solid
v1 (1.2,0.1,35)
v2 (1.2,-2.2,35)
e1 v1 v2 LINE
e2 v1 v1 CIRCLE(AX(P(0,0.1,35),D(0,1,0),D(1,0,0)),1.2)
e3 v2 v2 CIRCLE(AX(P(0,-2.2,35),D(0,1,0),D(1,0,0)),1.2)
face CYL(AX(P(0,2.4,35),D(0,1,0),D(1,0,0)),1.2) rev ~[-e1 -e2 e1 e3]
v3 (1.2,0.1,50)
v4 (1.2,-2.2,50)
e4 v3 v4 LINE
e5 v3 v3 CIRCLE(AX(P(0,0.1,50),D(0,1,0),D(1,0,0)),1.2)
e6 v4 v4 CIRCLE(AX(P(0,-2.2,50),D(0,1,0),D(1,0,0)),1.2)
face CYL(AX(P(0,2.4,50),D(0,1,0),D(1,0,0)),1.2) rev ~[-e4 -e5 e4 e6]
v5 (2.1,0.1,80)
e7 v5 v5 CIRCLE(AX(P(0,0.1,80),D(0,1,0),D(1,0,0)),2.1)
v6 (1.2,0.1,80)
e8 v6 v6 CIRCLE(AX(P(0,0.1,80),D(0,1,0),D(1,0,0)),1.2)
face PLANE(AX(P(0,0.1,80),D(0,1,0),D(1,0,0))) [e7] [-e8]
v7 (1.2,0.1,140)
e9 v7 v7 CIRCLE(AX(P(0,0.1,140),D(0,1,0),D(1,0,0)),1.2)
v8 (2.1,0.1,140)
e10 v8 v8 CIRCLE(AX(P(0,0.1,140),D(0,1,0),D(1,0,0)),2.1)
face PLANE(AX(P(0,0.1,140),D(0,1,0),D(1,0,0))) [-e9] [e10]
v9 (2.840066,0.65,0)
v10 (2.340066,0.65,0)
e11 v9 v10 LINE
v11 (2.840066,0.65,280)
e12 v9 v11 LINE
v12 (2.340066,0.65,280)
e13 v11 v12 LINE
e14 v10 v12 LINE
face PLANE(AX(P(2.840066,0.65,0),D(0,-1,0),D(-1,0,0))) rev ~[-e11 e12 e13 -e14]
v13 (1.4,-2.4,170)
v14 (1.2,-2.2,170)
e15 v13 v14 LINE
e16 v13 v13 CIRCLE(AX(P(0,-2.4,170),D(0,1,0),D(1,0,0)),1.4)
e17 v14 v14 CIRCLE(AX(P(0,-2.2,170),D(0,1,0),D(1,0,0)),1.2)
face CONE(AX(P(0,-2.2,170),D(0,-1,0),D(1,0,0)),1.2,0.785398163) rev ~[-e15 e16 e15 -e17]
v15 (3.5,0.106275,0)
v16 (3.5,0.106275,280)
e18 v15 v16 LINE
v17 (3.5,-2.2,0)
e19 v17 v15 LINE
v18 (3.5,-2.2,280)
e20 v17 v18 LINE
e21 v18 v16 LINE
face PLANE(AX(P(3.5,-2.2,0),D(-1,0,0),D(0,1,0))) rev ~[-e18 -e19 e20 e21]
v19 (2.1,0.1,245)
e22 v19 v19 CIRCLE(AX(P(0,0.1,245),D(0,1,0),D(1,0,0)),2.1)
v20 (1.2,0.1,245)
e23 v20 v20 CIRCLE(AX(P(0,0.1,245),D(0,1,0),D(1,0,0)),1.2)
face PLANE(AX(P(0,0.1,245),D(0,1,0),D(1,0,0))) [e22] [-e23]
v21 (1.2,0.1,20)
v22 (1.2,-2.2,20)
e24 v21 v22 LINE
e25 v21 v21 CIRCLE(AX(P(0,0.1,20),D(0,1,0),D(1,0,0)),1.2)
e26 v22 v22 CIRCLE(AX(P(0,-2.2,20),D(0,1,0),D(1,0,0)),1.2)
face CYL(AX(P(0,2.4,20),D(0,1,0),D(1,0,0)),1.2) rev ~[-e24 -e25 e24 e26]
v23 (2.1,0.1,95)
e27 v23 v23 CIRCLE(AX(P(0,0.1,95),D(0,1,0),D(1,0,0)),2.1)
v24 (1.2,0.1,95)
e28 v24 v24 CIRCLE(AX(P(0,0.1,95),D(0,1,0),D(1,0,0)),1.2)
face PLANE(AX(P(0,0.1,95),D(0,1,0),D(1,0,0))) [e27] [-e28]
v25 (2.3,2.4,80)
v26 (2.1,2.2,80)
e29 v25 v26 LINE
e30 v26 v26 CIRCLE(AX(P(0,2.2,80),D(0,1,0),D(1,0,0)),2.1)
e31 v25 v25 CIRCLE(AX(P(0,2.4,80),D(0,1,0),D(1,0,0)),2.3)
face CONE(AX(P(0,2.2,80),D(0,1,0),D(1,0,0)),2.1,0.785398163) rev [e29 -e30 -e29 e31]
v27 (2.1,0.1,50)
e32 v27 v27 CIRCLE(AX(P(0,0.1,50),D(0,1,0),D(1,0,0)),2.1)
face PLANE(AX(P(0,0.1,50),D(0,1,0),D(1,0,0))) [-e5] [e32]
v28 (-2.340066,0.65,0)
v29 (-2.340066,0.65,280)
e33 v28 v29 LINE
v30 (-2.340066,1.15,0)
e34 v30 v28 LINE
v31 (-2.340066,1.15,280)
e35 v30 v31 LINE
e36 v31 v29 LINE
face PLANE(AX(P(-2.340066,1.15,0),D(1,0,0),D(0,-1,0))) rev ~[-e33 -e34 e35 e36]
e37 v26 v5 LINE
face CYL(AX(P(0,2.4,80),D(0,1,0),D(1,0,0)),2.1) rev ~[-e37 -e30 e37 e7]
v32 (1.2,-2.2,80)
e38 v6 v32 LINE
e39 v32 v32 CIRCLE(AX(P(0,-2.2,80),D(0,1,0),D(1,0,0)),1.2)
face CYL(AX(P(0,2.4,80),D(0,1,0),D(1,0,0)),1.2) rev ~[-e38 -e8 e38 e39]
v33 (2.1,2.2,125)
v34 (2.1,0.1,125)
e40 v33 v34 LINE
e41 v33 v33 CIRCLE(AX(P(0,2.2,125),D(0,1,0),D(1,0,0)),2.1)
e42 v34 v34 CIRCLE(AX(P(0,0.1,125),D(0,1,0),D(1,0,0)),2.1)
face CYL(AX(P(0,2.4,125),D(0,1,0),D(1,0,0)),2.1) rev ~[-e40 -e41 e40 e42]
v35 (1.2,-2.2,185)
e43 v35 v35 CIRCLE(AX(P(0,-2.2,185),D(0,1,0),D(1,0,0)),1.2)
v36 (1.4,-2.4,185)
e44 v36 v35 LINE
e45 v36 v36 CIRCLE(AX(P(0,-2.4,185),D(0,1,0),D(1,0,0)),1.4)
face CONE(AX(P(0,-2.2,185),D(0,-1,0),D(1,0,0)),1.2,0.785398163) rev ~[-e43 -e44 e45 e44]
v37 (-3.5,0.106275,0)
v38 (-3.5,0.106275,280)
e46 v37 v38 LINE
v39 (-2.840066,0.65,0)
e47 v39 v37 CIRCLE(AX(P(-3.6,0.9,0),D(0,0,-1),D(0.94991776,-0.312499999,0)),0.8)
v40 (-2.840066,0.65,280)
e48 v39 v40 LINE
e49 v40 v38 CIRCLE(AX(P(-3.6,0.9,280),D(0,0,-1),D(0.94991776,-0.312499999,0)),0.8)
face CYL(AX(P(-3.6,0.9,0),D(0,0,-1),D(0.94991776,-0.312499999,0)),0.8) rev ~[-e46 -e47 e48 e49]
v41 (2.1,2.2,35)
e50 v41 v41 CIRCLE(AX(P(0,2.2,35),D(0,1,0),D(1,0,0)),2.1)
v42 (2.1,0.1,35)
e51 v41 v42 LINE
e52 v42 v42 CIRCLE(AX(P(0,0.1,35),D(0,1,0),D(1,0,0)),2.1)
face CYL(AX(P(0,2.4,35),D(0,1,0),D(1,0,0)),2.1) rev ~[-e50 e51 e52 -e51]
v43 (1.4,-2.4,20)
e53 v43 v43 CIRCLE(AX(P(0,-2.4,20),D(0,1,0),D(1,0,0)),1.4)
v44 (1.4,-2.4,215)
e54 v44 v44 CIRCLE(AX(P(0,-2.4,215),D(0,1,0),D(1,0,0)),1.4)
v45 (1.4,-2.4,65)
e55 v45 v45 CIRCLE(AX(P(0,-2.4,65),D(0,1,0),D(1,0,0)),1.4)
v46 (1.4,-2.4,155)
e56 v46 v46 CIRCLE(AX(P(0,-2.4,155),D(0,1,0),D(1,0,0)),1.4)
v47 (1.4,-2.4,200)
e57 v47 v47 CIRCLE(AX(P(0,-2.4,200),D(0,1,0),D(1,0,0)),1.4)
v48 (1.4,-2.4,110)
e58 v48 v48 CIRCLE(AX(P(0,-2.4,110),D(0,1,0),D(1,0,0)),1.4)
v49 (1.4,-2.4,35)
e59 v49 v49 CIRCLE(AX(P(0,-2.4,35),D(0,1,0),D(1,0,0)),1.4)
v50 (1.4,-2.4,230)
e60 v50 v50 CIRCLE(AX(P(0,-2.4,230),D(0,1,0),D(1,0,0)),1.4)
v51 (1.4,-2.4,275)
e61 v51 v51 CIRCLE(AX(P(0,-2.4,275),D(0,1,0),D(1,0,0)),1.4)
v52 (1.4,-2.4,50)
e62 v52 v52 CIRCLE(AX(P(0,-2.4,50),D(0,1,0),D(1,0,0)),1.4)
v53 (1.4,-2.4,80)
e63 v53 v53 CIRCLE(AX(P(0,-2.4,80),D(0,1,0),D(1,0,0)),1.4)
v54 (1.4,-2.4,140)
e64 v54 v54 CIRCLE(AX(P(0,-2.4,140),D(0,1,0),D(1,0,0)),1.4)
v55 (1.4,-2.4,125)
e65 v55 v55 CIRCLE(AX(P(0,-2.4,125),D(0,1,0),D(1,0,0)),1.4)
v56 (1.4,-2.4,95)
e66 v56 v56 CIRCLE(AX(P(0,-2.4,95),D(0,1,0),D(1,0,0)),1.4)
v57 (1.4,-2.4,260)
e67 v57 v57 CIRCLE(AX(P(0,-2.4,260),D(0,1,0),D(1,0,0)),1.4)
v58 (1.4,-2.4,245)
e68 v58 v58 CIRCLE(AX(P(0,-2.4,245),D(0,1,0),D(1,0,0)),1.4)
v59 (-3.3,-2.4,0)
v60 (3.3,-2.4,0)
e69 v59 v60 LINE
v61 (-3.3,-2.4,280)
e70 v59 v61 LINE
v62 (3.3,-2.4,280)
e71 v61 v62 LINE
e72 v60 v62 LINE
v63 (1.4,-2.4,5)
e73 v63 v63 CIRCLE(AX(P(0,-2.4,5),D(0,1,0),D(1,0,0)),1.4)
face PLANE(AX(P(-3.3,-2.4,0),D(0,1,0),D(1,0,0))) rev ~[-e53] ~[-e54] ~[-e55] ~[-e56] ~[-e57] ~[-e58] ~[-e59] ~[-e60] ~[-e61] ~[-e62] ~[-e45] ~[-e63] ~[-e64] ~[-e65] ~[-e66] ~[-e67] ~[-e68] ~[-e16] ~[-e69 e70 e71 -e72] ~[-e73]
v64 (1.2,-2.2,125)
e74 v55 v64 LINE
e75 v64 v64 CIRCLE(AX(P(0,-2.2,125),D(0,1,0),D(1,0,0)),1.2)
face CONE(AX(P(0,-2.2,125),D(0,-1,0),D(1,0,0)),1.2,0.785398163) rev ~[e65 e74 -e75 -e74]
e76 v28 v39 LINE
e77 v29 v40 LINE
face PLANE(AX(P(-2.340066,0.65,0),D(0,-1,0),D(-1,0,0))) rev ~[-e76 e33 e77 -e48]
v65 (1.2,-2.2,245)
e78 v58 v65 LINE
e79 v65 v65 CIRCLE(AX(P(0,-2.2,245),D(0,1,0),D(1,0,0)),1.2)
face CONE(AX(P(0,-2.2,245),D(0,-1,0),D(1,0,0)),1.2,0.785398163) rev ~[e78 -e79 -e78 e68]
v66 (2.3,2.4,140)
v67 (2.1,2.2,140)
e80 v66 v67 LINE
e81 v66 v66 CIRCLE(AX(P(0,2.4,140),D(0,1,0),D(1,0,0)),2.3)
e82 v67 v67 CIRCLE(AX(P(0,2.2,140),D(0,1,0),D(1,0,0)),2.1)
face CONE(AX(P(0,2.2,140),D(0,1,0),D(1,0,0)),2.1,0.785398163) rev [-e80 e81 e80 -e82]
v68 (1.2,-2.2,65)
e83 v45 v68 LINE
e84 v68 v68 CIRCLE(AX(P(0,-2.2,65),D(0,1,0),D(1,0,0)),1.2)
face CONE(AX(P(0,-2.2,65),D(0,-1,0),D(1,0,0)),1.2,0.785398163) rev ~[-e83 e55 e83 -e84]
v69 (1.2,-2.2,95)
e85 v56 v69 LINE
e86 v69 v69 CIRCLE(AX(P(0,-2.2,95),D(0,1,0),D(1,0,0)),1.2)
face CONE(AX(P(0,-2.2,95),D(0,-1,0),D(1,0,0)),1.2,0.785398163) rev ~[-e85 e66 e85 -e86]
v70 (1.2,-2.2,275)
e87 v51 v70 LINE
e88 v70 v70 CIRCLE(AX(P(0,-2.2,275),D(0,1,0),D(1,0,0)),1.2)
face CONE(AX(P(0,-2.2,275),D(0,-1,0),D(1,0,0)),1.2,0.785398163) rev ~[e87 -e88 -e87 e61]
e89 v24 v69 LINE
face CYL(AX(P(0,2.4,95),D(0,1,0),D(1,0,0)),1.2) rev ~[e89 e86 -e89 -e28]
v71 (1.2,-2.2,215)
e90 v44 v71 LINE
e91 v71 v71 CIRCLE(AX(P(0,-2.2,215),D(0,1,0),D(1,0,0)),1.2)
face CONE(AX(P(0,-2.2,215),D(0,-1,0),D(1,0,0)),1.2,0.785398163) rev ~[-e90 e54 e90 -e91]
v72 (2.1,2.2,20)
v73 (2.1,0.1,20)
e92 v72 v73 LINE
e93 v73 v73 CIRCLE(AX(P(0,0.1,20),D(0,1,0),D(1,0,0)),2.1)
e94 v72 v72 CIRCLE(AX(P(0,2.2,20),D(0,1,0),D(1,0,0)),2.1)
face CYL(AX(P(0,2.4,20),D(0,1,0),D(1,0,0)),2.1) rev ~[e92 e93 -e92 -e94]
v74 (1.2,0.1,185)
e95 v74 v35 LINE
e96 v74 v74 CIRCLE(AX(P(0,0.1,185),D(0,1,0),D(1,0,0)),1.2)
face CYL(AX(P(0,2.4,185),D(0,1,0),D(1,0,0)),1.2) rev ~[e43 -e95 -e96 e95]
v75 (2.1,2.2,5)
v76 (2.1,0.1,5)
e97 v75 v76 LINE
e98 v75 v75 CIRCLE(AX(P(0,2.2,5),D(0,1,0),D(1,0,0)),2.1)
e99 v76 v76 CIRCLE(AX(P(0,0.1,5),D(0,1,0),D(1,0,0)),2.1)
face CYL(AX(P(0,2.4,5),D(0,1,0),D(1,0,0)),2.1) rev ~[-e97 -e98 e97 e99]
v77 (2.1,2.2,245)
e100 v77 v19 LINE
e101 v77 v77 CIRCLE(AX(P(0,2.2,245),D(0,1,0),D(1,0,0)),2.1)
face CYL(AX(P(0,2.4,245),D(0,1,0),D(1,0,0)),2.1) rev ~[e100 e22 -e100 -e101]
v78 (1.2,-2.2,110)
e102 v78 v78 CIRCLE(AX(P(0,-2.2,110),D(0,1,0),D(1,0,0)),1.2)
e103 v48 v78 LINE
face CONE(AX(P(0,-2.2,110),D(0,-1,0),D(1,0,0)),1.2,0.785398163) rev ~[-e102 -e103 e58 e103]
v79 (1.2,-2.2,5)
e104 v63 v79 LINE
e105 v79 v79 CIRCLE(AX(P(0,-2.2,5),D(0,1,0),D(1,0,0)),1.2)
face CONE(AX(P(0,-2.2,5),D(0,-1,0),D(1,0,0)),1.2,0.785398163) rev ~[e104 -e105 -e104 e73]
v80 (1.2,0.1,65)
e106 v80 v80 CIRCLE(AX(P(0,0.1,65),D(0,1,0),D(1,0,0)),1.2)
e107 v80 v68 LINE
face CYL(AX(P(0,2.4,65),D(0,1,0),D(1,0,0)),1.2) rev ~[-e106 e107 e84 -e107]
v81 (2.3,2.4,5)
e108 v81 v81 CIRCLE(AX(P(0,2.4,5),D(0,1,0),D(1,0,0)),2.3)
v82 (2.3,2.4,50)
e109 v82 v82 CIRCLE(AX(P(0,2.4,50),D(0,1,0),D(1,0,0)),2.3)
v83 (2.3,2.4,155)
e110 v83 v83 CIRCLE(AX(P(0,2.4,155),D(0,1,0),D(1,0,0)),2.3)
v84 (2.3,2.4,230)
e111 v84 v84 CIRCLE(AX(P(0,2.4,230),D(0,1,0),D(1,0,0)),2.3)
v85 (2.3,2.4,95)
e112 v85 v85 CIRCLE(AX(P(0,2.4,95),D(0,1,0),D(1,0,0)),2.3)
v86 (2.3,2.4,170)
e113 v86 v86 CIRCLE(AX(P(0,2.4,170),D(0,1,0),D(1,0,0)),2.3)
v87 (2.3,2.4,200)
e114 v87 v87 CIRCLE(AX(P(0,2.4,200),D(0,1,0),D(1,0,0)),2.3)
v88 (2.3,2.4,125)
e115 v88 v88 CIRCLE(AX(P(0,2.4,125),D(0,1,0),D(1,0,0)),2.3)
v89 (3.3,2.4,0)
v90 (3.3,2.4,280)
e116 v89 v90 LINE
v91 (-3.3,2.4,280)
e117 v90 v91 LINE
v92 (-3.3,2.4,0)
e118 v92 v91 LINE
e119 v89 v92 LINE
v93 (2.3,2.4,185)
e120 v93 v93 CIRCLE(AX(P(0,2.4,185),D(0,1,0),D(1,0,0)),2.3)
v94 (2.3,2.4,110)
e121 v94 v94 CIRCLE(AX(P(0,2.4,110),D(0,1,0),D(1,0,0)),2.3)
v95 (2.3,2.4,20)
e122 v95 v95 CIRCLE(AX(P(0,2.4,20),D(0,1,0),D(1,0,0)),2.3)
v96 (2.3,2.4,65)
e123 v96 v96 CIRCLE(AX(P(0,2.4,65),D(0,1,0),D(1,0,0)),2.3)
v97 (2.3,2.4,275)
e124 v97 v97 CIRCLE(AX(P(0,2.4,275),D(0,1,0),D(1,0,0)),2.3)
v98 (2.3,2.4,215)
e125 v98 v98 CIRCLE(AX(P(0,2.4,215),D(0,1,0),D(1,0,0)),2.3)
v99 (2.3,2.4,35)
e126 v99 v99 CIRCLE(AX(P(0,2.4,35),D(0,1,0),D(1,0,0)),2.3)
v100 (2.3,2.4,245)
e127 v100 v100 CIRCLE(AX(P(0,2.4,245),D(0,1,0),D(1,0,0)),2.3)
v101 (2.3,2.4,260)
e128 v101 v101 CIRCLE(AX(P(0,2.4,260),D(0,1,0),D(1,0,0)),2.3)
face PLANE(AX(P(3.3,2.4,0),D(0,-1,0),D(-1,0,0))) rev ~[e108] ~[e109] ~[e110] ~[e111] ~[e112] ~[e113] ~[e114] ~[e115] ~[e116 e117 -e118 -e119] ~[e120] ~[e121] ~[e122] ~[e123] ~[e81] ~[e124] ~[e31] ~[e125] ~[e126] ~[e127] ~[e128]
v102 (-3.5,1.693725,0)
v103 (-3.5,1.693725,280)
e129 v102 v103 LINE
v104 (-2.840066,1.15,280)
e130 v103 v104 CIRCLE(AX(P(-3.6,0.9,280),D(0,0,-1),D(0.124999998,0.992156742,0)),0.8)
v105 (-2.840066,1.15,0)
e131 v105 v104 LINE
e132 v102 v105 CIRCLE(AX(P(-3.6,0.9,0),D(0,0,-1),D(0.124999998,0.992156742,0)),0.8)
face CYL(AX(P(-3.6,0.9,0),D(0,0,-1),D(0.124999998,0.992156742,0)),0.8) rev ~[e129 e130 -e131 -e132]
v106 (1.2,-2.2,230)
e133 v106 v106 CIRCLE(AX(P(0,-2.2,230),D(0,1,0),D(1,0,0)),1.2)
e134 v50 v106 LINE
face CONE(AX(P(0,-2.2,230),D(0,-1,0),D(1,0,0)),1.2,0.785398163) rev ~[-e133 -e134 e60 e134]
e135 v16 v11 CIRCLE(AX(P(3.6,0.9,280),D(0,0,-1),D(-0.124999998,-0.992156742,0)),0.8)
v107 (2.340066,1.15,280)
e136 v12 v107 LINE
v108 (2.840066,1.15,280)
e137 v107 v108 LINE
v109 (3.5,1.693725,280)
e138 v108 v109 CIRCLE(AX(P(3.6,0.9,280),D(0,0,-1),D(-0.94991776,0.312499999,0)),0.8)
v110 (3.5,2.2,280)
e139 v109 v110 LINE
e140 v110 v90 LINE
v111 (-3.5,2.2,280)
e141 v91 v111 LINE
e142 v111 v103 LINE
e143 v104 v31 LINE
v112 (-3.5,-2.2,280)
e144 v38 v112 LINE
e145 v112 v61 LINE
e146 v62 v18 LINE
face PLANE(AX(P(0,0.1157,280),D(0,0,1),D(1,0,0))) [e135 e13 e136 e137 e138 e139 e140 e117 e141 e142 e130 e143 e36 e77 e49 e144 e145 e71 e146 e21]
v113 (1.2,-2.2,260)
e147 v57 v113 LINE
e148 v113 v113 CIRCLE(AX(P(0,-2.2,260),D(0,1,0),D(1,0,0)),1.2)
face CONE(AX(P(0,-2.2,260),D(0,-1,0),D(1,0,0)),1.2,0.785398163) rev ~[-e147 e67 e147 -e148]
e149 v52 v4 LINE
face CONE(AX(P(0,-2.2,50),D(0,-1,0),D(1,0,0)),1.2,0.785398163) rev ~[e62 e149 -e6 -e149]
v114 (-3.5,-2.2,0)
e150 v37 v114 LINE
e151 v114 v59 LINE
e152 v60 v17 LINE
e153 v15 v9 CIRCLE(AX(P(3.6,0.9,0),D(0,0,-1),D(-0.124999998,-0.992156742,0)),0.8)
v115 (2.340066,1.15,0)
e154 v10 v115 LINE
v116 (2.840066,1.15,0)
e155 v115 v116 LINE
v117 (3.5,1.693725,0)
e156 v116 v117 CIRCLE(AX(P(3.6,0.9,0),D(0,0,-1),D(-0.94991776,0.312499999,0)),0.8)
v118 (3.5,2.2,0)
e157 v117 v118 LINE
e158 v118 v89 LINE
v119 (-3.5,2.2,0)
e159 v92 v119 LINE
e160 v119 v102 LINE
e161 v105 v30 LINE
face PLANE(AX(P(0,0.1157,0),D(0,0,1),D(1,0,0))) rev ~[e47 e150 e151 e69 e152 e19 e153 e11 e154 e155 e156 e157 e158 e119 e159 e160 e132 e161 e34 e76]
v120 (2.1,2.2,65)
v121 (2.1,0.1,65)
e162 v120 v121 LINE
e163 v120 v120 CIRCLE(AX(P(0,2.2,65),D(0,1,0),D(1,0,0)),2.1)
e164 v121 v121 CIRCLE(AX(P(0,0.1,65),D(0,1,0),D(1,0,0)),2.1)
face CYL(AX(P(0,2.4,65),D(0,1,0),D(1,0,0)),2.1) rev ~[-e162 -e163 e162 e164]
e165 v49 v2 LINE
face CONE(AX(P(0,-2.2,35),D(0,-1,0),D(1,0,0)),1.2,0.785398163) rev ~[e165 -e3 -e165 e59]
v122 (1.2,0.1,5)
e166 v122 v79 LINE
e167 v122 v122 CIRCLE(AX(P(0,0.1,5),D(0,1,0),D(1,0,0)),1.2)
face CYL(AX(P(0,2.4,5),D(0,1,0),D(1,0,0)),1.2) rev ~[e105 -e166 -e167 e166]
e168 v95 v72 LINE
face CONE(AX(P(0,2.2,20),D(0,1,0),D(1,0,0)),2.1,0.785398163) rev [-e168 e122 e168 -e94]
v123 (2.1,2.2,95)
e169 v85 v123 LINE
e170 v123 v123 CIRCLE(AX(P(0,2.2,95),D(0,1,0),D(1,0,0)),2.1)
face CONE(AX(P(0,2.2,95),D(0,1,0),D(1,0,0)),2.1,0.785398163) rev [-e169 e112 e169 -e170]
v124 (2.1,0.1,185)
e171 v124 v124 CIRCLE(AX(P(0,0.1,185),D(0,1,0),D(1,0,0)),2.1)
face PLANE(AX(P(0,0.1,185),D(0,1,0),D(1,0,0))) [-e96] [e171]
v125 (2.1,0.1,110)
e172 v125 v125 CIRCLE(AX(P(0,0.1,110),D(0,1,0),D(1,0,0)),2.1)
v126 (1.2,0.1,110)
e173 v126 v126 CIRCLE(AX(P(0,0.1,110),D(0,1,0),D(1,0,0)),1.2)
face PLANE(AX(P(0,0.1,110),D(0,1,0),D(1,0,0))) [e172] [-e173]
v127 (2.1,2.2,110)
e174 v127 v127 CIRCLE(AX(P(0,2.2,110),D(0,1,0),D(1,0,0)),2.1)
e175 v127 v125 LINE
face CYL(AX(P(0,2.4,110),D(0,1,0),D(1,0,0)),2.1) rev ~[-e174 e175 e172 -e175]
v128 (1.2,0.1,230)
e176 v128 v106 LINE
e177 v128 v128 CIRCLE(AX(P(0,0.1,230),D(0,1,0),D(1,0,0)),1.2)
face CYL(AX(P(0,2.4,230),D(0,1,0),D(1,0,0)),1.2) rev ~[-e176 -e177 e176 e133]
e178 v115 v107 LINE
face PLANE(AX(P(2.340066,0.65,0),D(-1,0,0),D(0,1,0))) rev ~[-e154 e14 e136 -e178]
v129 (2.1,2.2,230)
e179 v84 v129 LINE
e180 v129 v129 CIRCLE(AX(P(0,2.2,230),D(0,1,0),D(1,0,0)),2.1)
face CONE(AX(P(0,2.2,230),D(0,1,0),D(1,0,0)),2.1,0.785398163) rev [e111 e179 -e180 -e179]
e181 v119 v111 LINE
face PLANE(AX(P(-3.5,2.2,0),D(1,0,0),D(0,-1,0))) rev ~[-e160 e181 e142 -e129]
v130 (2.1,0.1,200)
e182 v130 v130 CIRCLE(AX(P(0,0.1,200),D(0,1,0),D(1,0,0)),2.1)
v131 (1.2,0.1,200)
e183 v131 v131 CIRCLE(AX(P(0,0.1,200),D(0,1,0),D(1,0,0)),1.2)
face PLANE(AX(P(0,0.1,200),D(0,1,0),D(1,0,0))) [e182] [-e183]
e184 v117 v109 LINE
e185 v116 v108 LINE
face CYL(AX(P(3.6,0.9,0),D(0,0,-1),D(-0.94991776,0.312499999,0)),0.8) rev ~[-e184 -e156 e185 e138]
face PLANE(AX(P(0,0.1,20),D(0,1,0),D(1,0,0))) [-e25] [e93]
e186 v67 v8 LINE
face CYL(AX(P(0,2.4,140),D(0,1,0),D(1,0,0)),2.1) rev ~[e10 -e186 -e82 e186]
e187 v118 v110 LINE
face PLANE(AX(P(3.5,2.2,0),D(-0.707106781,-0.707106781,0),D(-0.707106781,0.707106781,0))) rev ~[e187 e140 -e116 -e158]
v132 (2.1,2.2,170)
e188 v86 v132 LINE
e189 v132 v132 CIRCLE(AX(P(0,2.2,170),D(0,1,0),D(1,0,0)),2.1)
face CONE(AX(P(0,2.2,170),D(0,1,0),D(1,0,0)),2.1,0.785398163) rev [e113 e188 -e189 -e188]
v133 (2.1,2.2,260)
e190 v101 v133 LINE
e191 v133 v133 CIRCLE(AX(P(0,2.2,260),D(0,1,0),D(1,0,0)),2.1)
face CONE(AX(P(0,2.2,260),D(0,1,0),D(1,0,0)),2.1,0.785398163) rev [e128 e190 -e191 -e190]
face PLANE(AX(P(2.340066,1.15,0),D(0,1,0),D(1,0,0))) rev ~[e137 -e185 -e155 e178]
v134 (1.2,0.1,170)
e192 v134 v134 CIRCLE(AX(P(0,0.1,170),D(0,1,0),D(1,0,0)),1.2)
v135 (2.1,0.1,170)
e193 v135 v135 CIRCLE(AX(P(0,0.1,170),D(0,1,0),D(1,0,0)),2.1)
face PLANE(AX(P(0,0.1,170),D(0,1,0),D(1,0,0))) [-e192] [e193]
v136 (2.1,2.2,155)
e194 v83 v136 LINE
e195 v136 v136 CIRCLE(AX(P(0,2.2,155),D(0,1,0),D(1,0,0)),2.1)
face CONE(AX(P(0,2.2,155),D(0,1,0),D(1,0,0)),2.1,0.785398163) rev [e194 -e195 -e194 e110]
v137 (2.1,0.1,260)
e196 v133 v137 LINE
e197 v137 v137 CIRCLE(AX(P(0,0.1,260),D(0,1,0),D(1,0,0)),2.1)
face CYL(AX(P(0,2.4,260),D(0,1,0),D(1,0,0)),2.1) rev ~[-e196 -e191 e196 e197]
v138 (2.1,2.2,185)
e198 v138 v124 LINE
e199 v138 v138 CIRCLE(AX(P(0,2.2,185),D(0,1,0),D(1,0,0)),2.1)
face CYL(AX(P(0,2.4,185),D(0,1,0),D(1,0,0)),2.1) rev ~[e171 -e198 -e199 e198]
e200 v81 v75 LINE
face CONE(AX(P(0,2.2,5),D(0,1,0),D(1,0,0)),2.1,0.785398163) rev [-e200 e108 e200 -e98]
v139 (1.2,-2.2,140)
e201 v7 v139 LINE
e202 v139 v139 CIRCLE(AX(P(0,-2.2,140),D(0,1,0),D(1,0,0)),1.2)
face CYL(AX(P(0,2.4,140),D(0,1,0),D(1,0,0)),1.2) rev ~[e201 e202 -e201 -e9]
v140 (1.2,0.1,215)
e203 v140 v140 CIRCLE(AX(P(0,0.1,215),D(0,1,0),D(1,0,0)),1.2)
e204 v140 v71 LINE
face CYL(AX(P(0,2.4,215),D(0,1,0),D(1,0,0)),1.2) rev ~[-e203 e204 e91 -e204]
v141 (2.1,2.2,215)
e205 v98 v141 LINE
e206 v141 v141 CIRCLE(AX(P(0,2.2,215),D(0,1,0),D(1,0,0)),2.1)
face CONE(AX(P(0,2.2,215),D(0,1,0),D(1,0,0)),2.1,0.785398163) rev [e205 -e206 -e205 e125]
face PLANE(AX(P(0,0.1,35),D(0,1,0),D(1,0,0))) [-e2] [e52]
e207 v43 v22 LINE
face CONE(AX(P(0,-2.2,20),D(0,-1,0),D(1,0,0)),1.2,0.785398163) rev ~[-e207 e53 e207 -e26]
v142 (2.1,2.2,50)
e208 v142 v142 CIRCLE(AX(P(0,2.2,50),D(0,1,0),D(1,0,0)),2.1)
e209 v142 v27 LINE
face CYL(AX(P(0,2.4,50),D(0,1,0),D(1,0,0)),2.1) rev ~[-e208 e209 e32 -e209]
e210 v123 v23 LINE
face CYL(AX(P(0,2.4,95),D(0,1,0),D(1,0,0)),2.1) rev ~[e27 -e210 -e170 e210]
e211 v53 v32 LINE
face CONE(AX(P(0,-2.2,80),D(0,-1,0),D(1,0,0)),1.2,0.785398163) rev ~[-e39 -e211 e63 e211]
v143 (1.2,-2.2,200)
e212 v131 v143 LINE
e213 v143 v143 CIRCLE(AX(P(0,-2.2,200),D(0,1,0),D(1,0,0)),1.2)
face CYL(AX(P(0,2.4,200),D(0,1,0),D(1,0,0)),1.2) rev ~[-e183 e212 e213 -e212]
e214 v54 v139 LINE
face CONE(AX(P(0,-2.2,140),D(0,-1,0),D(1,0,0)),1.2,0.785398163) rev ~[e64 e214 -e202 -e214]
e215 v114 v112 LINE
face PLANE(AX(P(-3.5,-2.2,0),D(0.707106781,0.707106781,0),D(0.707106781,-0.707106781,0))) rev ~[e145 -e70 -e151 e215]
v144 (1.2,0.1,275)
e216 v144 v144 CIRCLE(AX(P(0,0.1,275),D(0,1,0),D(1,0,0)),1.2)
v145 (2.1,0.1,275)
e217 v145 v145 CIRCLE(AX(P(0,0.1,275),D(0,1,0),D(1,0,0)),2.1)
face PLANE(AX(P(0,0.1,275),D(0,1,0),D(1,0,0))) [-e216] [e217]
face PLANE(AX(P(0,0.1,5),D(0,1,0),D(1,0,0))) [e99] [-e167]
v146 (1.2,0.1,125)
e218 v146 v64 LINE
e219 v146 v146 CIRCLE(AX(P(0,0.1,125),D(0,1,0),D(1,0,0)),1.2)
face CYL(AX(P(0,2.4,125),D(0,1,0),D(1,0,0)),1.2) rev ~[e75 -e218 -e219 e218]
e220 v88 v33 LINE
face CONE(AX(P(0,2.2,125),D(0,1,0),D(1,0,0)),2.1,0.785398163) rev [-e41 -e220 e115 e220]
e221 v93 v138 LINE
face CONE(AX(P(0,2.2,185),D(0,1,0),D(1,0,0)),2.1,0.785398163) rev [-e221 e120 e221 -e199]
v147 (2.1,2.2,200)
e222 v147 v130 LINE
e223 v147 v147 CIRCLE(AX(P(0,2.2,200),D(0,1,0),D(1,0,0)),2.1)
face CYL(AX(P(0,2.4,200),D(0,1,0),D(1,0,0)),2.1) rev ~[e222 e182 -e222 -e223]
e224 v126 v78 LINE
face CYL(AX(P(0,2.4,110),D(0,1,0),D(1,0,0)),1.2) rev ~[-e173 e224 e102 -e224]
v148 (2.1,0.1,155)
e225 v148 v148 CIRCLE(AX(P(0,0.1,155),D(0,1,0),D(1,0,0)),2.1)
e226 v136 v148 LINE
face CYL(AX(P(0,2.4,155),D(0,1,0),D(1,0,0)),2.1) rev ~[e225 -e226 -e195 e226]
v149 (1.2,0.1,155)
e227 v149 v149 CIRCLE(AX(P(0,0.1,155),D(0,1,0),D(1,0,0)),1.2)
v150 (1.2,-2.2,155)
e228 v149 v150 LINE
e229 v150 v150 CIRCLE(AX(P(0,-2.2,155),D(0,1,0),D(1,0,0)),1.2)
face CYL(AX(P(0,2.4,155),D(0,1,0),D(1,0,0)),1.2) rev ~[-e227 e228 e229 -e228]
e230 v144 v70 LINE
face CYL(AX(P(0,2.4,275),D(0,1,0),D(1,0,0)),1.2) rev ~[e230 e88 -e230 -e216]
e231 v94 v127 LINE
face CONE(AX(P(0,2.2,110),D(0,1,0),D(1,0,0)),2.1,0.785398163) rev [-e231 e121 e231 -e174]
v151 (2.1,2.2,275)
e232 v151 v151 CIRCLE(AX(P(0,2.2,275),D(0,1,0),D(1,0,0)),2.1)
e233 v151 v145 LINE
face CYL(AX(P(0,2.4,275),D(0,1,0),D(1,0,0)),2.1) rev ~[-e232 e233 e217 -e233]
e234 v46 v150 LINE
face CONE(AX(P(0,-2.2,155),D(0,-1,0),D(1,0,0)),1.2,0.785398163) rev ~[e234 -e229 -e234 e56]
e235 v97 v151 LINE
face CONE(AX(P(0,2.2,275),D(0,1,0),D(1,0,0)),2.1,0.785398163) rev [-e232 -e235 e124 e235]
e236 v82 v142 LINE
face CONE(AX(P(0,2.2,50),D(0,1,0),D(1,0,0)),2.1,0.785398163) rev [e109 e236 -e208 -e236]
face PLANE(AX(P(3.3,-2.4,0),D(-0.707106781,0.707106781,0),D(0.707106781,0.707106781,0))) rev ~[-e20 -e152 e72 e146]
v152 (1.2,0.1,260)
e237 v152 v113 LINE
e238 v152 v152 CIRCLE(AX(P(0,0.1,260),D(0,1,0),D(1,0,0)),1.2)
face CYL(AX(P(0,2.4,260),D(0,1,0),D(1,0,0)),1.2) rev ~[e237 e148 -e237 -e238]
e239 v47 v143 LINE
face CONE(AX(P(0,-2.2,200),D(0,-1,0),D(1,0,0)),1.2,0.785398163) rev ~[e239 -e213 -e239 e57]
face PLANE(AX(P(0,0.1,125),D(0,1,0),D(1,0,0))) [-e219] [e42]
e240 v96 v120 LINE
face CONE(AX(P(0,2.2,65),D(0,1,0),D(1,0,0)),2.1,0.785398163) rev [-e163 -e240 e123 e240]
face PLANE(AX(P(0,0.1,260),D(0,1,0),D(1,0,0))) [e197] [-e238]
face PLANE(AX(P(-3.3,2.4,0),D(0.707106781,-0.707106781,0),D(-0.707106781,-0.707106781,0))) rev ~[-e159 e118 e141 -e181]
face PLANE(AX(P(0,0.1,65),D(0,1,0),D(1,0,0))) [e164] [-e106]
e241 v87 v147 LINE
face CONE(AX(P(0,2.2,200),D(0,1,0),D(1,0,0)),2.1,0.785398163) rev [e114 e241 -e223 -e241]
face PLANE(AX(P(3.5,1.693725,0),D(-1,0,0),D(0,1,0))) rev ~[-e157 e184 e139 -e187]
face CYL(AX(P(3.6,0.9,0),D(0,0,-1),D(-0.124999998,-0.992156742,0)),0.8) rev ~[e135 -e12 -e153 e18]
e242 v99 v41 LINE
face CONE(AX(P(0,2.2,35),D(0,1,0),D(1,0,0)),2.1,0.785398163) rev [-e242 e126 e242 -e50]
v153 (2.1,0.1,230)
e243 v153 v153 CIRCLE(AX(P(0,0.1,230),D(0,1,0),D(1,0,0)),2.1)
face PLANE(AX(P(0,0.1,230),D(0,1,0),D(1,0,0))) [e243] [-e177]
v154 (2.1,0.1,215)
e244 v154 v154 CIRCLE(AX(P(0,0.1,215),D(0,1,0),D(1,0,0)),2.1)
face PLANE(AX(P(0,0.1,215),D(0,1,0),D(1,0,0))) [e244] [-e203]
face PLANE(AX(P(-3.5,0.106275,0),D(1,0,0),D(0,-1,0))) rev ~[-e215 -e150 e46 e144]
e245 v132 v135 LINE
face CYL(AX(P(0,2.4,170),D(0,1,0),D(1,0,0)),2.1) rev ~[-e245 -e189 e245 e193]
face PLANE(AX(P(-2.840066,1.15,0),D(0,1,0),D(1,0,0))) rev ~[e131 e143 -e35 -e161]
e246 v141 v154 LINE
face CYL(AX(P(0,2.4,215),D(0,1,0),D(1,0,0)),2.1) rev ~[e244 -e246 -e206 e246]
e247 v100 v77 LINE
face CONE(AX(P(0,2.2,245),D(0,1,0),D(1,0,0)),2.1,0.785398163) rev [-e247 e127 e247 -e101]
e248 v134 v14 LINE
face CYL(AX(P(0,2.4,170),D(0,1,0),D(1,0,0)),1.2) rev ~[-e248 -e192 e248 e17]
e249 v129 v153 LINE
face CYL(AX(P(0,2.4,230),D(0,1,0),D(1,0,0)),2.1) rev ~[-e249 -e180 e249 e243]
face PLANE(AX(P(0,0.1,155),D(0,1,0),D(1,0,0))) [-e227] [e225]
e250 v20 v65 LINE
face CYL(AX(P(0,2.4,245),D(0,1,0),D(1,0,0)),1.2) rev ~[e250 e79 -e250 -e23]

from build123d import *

# Parameters (mm, degrees)
EXTRUDE1_DEPTH             = 280
EXTRUDE2_REACH             = 282.063
SKETCH2_R                  = 1.2
SKETCH_R                   = 2.1
SKETCH_R_2                 = 1.2
EXTRUDE4_DEPTH             = 2.3
CHAMFER1_SIZE              = 0.2
LPATTERN1_COUNT            = 19
LPATTERN1_PITCH            = 15
CHAMFER1_OF_LPATTERN1_SIZE = 0.2


with BuildPart() as part:
    # Sketch1 → Extrude1 (new body)
    with BuildSketch(Plane.XY):
        with BuildLine():
            Line((-3.3, -2.4), (3.3, -2.4))
            Line((3.3, -2.4), (3.5, -2.2))
            Line((3.5, -2.2), (3.5, 0.106274607))
            ThreePointArc((3.5, 0.106274607), (3.091294745, 0.282570681), (2.840065792, 0.65))
            Line((2.840065792, 0.65), (2.340065792, 0.65))
            Line((2.340065792, 0.65), (2.340065792, 1.15))
            Line((2.340065792, 1.15), (2.840065792, 1.15))
            ThreePointArc((2.840065792, 1.15), (3.091294745, 1.517429319), (3.5, 1.693725393))
            Line((3.5, 1.693725393), (3.5, 2.2))
            Line((3.5, 2.2), (3.3, 2.4))
            Line((3.3, 2.4), (-3.3, 2.4))
            Line((-3.3, 2.4), (-3.5, 2.2))
            Line((-3.5, 2.2), (-3.5, 1.693725393))
            ThreePointArc((-3.5, 1.693725393), (-3.091294745, 1.517429319), (-2.840065792, 1.15))
            Line((-2.840065792, 1.15), (-2.340065792, 1.15))
            Line((-2.340065792, 1.15), (-2.340065792, 0.65))
            Line((-2.340065792, 0.65), (-2.840065792, 0.65))
            ThreePointArc((-2.840065792, 0.65), (-3.091294745, 0.282570681), (-3.5, 0.106274607))
            Line((-3.5, 0.106274607), (-3.5, -2.2))
            Line((-3.5, -2.2), (-3.3, -2.4))
        make_face()
    extrude(amount=EXTRUDE1_DEPTH)

    # Sketch2 → Extrude2 (cut, up to next)
    with BuildSketch(Plane(origin=(0, 2.4, 0), x_dir=(1, 0, 0), z_dir=(0, 1, 0)), mode=Mode.PRIVATE) as extrude2_sk1:
        with Locations((0, -5)):
            Circle(SKETCH2_R)
    extrude2_tool1 = extrude(extrude2_sk1.sketch, amount=-EXTRUDE2_REACH, mode=Mode.PRIVATE) & part.part
    extrude2 = extrude2_tool1.solids().sort_by_distance((0, 2.4, 5))[0]
    add(extrude2, mode=Mode.SUBTRACT)

    # Sketch → Extrude4 (cut)
    with BuildSketch(Plane(origin=(0, 2.4, 0), x_dir=(1, 0, 0), z_dir=(0, 1, 0))):
        with Locations((0, -5)):
            Circle(SKETCH_R)
        with Locations((0, -5)):
            Circle(SKETCH_R_2, mode=Mode.SUBTRACT)
    extrude4 = extrude(amount=-EXTRUDE4_DEPTH, mode=Mode.SUBTRACT)

    # Chamfer1
    chamfer1_edges = [part.edges().sort_by_distance(p)[0] for p in [
        (-1.2, -2.4, 5),
        (-2.1, 2.4, 5),
    ]]
    chamfer(chamfer1_edges, length=CHAMFER1_SIZE)

    # LPattern1: Extrude2, Extrude4 ×19
    with Locations(*[(0, 0, i * LPATTERN1_PITCH) for i in range(1, LPATTERN1_COUNT)]):
        add(extrude2, mode=Mode.SUBTRACT)
        add(extrude4, mode=Mode.SUBTRACT)

    # Chamfer1 of LPattern1
    chamfer1_of_lpattern1_edges = [part.edges().sort_by_distance(p)[0] for p in [
        (-1.2, -2.4, 20),
        (-2.1, 2.4, 20),
        (-1.2, -2.4, 35),
        (-2.1, 2.4, 35),
        (-1.2, -2.4, 50),
        (-2.1, 2.4, 50),
        (-1.2, -2.4, 65),
        (-2.1, 2.4, 65),
        (-1.2, -2.4, 80),
        (-2.1, 2.4, 80),
        (-1.2, -2.4, 95),
        (-2.1, 2.4, 95),
        (-1.2, -2.4, 110),
        (-2.1, 2.4, 110),
        (-1.2, -2.4, 125),
        (-2.1, 2.4, 125),
        (-1.2, -2.4, 140),
        (-2.1, 2.4, 140),
        (-1.2, -2.4, 155),
        (-2.1, 2.4, 155),
        (-1.2, -2.4, 170),
        (-2.1, 2.4, 170),
        (-1.2, -2.4, 185),
        (-2.1, 2.4, 185),
        (-1.2, -2.4, 200),
        (-2.1, 2.4, 200),
        (-1.2, -2.4, 215),
        (-2.1, 2.4, 215),
        (-1.2, -2.4, 230),
        (-2.1, 2.4, 230),
        (-1.2, -2.4, 245),
        (-2.1, 2.4, 245),
        (-1.2, -2.4, 260),
        (-2.1, 2.4, 260),
        (-1.2, -2.4, 275),
        (-2.1, 2.4, 275),
    ]]
    chamfer(chamfer1_of_lpattern1_edges, length=CHAMFER1_OF_LPATTERN1_SIZE)


solid = part.part
